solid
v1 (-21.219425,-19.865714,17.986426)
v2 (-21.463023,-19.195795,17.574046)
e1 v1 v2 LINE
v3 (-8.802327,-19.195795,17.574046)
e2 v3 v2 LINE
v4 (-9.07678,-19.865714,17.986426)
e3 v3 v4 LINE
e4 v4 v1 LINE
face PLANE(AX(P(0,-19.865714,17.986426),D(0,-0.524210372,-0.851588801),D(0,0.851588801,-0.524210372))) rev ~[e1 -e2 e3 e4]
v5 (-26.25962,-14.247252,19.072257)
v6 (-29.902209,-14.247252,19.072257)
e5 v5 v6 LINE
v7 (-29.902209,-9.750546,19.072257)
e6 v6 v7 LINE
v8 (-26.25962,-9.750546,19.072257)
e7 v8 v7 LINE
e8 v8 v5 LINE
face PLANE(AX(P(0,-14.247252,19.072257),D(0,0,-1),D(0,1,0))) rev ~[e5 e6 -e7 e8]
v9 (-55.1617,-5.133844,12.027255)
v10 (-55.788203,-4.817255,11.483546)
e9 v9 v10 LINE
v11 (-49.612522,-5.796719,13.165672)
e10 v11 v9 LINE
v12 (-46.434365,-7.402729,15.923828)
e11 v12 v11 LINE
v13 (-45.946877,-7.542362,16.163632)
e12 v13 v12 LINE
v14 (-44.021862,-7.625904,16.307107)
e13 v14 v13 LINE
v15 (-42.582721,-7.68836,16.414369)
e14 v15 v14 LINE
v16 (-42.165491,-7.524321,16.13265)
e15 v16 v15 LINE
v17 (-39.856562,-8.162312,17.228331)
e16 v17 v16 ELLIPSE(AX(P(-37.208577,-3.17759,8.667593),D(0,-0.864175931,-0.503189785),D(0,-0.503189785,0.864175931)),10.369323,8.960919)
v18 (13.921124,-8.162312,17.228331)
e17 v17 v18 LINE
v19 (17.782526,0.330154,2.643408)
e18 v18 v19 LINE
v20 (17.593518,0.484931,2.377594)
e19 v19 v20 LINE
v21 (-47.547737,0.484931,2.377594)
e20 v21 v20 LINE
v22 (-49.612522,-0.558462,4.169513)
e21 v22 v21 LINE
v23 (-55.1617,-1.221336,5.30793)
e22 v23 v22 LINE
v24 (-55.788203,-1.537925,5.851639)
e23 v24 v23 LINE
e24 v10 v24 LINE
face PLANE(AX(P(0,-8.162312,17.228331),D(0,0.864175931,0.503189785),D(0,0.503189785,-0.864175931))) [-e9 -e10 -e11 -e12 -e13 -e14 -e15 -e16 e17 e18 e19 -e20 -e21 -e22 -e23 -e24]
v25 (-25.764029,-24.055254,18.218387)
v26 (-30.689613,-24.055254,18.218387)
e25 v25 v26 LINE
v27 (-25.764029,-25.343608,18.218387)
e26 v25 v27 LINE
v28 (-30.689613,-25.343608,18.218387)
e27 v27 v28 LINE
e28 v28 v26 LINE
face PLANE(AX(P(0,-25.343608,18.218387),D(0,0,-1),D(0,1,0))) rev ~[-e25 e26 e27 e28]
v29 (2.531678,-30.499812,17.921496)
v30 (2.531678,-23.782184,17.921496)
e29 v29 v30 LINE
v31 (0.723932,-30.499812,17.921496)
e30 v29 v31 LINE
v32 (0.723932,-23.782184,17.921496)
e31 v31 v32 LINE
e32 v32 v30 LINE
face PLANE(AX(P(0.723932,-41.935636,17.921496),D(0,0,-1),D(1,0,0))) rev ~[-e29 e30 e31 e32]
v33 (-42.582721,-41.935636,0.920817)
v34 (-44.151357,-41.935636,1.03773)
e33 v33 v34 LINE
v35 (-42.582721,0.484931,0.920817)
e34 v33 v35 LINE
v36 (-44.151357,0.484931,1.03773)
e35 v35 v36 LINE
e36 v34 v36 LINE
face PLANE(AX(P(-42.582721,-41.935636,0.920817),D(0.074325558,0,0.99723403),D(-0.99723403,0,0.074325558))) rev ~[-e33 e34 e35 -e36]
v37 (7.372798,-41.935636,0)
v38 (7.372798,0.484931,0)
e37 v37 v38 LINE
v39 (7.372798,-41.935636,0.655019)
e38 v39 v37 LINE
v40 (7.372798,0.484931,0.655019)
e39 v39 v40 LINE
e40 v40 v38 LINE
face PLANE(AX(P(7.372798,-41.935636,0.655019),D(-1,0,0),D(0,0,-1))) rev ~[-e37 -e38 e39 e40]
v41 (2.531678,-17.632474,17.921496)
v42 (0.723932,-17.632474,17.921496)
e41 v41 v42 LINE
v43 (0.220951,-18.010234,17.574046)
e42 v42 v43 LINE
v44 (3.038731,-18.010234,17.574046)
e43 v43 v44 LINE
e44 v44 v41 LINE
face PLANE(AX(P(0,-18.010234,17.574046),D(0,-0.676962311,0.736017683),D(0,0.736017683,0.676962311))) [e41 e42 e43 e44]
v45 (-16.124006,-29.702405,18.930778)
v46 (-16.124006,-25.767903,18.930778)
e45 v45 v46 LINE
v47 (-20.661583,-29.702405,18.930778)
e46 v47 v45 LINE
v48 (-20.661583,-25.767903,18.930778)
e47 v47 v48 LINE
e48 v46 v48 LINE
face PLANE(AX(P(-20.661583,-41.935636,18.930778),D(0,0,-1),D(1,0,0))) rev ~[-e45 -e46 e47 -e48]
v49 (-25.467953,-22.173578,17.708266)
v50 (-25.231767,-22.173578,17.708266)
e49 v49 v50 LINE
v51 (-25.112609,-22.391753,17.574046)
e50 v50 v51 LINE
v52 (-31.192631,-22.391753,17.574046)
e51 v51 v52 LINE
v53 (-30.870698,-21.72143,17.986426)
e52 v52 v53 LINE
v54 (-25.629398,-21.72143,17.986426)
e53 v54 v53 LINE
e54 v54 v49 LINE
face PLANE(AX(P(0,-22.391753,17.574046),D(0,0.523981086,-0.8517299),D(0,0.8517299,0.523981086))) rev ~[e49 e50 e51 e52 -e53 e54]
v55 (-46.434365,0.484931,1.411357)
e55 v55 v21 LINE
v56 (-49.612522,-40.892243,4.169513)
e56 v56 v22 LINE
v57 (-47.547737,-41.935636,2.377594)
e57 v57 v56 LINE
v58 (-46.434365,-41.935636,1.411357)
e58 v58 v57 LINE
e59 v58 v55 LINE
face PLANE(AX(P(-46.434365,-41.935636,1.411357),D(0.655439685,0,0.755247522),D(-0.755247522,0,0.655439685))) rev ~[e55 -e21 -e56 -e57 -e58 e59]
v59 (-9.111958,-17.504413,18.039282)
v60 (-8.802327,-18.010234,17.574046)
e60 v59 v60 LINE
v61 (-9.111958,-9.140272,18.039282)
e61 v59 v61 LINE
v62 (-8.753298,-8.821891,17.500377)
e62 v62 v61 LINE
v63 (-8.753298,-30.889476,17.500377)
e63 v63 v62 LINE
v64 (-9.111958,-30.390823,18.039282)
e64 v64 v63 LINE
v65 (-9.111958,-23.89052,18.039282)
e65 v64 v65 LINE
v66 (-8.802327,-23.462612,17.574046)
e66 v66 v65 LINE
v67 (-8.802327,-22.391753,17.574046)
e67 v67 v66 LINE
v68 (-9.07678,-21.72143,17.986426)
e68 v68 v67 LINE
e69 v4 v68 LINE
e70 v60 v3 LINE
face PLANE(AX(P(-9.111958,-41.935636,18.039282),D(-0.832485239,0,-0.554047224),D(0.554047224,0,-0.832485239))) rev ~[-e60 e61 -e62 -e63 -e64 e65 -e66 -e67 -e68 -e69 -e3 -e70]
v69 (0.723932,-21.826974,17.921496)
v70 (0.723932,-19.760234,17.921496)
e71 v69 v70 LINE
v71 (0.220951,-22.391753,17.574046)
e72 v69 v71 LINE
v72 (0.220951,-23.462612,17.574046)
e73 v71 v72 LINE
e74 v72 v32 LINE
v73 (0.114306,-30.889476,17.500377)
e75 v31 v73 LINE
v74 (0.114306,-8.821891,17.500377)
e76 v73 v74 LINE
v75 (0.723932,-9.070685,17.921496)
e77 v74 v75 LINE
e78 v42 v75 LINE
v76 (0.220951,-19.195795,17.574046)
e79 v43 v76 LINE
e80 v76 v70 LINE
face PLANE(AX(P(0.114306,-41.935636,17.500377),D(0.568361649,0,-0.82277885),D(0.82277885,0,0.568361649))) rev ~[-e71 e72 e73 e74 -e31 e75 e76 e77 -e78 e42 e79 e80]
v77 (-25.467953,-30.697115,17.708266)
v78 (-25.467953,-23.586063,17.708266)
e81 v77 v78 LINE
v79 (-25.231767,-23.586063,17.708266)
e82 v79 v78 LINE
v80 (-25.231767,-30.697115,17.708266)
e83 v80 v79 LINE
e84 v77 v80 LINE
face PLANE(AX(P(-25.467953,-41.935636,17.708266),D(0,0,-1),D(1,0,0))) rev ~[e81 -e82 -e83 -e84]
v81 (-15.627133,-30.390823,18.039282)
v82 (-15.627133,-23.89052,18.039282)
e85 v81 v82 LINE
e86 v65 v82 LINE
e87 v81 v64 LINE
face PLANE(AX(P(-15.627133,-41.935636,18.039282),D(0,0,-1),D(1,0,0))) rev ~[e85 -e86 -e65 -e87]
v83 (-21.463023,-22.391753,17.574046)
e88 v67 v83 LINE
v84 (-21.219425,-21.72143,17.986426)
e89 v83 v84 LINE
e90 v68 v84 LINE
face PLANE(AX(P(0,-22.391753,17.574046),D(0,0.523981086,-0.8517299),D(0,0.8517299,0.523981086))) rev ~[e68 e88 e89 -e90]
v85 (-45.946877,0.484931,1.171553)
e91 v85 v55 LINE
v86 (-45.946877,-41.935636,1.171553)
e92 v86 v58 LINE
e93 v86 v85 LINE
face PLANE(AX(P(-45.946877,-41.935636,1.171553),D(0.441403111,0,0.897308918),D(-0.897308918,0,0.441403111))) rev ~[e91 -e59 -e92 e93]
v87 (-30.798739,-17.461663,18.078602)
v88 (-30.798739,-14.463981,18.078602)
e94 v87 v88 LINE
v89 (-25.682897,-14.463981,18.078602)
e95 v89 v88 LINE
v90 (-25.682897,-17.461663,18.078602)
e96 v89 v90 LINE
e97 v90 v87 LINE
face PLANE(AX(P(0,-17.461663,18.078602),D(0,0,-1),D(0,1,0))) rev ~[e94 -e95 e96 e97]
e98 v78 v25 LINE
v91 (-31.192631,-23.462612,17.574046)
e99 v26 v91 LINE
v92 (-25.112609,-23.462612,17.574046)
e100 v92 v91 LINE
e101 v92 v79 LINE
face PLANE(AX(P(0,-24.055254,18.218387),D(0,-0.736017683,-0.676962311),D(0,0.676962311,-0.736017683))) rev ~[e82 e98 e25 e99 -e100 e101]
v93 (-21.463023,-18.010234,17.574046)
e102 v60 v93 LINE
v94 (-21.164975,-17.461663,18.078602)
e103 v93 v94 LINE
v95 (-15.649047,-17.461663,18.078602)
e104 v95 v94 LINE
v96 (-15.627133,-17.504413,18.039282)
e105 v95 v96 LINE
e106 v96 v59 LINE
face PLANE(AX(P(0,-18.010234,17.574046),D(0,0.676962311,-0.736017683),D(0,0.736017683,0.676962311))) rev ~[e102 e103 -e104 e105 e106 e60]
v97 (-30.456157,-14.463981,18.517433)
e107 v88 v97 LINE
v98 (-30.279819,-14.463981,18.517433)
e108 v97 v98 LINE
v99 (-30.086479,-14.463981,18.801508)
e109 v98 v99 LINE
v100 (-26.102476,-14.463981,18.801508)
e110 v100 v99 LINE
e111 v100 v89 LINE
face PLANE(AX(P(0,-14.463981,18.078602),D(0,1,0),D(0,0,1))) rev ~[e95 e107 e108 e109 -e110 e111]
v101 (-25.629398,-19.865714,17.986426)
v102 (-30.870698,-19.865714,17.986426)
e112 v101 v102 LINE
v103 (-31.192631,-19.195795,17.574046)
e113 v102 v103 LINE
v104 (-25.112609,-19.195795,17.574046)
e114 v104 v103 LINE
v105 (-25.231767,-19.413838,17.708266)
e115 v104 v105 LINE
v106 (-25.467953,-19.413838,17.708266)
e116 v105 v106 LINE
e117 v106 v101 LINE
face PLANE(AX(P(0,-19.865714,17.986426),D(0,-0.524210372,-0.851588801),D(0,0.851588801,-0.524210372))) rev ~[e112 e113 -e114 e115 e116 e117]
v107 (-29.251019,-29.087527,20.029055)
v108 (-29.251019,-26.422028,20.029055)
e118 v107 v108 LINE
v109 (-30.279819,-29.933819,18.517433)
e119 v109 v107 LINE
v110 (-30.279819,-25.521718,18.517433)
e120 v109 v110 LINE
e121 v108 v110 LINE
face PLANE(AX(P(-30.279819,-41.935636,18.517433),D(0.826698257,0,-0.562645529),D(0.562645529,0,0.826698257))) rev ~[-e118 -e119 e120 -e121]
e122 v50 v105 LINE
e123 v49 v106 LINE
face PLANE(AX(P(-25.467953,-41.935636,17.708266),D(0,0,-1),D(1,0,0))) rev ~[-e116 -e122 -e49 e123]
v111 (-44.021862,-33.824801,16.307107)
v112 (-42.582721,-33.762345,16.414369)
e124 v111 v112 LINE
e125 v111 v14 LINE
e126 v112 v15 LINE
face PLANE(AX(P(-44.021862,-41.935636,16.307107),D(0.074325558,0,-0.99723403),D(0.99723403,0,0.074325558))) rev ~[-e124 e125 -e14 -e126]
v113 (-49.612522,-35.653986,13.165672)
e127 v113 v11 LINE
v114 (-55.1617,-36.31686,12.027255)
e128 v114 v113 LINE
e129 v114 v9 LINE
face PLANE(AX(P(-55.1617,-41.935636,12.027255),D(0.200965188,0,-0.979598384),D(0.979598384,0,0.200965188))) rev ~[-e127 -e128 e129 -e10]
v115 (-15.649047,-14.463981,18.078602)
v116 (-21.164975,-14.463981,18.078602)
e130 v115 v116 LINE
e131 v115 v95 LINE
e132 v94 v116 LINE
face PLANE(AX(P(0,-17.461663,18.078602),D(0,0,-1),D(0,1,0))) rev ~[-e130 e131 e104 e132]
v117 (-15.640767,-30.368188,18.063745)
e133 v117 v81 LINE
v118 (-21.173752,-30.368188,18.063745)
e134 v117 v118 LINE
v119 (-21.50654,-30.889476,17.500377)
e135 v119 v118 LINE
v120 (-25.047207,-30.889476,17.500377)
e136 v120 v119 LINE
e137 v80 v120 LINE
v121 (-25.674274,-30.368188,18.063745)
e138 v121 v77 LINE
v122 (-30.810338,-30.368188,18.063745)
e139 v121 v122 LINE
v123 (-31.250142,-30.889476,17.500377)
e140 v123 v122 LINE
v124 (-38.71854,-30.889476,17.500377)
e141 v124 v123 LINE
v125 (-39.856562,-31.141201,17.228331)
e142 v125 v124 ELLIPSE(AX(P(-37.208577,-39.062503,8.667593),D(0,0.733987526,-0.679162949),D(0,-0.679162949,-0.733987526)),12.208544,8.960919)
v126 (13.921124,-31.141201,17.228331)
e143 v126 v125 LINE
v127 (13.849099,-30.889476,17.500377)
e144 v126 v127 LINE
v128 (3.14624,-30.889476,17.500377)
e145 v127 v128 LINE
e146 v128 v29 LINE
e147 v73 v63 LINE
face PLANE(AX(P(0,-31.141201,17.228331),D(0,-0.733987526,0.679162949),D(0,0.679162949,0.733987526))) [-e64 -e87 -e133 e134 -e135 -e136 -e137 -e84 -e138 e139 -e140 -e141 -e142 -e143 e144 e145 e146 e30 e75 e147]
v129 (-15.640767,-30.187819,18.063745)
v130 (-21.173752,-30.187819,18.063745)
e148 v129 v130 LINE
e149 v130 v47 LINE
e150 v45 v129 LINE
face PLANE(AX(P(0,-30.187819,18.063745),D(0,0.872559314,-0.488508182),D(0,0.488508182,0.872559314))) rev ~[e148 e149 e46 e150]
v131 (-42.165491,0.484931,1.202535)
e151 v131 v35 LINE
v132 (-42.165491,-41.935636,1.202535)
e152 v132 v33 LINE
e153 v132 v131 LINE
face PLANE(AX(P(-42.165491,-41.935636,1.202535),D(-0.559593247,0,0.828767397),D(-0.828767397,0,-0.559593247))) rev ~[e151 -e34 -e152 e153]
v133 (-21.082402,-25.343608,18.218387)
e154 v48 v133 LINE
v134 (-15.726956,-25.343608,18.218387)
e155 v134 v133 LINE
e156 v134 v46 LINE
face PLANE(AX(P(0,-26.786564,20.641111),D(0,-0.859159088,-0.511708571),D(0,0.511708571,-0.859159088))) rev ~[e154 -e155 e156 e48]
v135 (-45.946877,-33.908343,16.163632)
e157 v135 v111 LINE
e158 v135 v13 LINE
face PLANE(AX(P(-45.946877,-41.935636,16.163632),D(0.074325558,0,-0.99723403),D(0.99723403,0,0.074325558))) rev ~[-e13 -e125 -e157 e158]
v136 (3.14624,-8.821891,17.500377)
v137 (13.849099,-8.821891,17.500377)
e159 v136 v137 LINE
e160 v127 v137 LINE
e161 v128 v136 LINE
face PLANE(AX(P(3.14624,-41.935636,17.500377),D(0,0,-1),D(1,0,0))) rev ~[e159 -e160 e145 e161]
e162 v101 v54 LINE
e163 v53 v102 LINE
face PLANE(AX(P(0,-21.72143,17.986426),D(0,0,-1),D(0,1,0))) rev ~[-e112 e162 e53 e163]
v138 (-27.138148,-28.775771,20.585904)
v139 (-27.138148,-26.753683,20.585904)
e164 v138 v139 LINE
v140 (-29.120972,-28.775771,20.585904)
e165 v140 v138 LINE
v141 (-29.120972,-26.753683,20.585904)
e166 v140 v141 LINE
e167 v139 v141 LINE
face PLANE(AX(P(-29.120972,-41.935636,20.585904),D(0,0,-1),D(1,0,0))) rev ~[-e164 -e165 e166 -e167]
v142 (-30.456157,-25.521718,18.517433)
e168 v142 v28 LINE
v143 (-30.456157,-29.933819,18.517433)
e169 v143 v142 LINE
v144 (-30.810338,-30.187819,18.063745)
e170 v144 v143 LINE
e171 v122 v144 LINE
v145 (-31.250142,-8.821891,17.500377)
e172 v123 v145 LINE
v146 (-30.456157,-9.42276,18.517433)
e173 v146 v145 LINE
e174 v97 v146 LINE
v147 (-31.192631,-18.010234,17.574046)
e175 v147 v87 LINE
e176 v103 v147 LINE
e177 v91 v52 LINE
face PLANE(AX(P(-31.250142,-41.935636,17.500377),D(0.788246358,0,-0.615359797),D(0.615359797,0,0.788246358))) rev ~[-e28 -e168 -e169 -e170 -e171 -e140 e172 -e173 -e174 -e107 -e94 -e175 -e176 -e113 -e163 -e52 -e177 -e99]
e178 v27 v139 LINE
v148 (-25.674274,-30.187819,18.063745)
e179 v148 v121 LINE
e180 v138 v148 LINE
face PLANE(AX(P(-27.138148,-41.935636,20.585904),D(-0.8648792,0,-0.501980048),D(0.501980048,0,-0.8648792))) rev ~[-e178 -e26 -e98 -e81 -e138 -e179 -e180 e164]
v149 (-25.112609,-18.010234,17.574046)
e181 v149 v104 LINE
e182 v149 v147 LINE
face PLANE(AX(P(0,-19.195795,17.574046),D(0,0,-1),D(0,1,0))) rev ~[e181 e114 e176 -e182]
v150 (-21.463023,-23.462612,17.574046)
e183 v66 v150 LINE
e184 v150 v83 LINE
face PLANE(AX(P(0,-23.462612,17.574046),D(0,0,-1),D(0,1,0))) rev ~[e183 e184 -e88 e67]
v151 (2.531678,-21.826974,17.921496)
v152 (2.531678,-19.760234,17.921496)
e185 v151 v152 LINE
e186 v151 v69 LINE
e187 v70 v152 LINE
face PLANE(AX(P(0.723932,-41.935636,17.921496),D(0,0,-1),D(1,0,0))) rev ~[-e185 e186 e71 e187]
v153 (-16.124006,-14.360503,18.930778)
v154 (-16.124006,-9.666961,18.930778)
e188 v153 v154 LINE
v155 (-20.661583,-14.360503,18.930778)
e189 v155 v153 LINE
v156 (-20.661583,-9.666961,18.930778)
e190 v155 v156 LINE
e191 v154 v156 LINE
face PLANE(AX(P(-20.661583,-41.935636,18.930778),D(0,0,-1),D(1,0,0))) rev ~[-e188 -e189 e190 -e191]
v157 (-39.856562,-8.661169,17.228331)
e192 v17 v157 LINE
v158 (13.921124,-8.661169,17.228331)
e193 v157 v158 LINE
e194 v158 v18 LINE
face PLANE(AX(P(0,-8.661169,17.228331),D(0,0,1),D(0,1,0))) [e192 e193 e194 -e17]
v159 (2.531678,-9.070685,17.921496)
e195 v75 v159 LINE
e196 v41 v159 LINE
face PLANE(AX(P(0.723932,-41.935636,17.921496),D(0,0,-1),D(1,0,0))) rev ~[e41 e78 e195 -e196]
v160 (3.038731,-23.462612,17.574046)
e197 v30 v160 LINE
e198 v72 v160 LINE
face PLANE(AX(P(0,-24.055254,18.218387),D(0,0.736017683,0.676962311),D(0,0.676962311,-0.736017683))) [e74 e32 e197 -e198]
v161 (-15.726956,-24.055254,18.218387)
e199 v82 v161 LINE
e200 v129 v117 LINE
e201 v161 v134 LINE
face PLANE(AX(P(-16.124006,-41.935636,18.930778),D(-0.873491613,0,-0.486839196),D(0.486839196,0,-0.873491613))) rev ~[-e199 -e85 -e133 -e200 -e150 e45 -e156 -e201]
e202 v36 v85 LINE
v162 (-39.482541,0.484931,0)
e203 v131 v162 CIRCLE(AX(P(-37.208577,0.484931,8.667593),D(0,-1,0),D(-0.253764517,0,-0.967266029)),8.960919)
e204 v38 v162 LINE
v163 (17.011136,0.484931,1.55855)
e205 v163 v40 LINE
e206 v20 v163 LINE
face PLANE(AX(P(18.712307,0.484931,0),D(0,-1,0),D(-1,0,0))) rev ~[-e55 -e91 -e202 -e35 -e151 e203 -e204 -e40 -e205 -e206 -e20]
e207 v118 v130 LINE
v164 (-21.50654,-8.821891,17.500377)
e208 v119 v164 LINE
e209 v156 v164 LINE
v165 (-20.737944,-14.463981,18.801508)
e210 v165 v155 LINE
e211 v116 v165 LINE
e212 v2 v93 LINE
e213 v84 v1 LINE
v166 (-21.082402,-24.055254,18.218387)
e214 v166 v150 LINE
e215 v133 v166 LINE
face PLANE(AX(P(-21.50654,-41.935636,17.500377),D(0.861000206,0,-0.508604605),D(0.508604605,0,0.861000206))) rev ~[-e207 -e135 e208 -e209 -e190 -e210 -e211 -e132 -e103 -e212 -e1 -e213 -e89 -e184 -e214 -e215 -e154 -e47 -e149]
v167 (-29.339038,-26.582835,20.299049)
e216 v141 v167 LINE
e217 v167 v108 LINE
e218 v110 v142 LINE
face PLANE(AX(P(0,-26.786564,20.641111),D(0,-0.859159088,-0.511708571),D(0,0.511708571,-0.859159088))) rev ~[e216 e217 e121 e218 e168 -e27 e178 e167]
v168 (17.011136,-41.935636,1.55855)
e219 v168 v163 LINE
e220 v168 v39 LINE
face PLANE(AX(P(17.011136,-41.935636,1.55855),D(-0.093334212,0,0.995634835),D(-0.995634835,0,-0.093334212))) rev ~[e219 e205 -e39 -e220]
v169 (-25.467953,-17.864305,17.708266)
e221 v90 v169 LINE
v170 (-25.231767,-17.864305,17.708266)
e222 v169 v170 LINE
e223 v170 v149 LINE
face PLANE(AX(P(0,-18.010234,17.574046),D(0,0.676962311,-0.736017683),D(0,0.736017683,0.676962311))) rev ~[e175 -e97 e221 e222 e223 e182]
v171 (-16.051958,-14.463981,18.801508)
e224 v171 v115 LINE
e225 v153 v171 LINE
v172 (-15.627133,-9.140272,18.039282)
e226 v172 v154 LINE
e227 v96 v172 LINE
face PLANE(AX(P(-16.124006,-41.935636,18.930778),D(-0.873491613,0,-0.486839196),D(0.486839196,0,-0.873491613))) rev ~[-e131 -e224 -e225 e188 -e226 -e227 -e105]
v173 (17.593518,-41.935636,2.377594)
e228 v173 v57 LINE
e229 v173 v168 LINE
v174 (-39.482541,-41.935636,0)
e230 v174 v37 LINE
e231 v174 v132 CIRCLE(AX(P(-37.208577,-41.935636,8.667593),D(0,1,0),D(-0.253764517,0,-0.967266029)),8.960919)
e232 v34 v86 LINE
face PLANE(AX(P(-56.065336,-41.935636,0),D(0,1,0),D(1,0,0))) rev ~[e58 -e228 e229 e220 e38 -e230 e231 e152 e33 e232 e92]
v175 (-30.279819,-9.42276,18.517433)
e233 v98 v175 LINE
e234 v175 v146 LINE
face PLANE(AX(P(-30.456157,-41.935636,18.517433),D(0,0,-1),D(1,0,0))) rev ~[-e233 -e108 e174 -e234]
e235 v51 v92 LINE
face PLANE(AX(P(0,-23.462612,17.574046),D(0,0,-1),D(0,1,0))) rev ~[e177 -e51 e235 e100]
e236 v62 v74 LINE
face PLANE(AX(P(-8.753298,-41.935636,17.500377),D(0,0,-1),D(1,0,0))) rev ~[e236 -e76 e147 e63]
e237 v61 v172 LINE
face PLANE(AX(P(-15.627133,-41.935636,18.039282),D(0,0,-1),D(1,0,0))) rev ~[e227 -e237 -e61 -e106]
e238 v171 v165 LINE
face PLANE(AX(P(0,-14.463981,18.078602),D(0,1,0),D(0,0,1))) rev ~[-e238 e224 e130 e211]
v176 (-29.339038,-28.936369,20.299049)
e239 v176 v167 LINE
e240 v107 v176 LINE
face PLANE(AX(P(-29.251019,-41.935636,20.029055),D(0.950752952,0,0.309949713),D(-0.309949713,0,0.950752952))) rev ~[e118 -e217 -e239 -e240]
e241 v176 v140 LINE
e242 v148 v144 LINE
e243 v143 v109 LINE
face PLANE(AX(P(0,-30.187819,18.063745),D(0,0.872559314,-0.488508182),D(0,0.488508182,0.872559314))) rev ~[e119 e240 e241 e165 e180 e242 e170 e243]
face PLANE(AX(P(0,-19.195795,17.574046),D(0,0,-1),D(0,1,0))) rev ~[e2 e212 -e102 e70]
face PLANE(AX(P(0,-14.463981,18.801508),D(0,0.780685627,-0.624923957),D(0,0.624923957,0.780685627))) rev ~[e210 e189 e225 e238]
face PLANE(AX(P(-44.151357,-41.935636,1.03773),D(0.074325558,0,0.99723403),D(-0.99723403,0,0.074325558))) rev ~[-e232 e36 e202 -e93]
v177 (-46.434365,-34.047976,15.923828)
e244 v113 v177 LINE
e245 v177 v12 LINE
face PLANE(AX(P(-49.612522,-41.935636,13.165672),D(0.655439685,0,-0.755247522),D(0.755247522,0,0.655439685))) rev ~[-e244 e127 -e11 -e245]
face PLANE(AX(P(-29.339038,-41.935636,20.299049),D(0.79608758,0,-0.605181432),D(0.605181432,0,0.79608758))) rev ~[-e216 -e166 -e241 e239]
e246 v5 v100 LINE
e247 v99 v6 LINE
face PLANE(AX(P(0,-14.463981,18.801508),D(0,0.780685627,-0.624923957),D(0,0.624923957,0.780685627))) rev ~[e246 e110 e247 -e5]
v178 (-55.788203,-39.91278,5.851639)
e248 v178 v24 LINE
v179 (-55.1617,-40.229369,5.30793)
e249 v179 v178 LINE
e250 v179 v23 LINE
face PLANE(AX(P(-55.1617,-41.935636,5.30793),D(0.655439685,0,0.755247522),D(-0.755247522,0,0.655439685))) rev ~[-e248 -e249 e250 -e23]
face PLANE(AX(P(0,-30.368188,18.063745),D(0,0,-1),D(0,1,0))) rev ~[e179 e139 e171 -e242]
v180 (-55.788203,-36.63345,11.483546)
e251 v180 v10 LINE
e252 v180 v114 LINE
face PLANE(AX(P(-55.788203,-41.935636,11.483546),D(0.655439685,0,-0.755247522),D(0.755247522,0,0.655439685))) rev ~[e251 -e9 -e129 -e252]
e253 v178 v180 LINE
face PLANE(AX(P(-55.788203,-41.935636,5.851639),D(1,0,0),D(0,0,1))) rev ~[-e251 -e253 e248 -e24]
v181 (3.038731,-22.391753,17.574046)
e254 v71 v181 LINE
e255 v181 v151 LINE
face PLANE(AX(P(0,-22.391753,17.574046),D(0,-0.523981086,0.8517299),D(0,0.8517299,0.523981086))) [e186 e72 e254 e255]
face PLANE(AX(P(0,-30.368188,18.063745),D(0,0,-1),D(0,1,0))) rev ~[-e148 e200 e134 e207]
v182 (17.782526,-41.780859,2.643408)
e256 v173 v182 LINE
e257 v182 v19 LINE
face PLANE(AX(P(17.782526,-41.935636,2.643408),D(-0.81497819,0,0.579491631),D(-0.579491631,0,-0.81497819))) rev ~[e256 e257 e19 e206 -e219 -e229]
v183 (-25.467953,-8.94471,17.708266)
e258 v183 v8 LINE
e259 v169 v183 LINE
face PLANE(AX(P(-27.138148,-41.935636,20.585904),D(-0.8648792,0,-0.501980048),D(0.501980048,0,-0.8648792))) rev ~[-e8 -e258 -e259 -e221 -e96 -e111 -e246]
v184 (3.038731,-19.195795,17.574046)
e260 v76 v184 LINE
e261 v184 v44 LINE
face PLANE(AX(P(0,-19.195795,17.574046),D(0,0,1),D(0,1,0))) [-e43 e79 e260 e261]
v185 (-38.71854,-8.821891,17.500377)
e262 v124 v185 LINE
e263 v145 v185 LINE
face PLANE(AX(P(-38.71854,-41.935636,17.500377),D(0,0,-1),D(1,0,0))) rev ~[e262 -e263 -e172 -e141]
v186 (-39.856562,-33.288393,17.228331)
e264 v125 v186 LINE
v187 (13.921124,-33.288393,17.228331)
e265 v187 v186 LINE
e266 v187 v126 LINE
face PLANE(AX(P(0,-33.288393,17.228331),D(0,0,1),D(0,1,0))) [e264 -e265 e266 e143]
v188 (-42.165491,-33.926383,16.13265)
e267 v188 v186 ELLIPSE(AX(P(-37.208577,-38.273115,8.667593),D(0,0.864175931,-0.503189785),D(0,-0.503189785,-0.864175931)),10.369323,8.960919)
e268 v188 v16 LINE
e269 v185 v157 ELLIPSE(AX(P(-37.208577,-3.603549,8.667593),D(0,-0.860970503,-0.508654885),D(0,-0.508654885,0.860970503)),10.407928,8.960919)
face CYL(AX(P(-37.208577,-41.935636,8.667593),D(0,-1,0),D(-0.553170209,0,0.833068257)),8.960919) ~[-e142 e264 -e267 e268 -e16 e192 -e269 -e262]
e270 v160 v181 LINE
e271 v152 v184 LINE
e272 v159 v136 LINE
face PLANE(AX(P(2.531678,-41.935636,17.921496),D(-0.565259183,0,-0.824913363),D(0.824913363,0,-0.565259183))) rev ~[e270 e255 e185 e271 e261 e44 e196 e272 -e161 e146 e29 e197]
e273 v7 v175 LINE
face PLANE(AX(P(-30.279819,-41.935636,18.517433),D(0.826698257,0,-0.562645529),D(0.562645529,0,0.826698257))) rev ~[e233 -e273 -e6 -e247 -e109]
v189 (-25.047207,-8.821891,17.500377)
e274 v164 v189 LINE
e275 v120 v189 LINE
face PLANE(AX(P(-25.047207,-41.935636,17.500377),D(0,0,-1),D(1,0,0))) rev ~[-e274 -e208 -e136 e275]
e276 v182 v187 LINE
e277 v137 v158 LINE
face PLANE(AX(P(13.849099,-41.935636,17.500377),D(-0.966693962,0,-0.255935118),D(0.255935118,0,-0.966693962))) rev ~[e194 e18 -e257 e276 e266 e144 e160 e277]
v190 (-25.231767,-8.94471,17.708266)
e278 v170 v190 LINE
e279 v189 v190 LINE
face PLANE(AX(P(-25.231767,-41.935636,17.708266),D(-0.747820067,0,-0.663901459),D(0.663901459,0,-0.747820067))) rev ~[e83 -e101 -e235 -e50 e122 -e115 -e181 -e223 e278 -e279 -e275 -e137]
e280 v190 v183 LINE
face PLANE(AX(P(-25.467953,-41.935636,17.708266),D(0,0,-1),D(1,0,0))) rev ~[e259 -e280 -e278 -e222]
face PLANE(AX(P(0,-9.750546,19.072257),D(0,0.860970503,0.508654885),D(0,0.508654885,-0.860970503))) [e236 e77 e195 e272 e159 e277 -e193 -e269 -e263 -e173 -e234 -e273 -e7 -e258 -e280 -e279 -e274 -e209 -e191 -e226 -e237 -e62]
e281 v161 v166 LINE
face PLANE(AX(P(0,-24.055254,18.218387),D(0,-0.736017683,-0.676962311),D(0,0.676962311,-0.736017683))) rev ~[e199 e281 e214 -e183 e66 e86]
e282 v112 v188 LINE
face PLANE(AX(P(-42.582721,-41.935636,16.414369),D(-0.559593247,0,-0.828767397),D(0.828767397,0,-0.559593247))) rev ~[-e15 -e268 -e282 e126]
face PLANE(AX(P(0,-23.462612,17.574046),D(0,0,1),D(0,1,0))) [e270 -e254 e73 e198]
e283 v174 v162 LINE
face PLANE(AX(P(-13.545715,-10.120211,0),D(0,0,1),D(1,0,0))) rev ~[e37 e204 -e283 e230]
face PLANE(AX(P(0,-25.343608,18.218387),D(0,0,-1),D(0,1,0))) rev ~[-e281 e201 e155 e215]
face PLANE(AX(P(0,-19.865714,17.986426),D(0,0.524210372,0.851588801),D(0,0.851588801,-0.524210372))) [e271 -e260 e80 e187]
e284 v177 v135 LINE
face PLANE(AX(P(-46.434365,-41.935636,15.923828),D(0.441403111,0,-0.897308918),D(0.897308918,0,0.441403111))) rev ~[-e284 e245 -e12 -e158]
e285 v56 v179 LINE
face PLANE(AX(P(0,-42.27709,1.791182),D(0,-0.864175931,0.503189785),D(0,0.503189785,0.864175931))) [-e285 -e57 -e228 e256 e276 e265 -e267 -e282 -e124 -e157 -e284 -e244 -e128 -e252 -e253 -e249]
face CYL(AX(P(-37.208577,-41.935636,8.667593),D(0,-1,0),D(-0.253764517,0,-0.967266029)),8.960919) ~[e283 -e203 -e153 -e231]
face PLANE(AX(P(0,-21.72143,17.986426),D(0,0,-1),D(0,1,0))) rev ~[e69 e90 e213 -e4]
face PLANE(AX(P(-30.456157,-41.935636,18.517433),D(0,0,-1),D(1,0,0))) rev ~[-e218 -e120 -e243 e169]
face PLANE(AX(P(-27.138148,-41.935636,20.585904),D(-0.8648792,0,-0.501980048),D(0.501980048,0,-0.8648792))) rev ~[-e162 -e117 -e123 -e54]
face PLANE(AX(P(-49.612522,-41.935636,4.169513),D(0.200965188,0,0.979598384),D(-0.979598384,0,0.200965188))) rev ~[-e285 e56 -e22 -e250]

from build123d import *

# Parameters (mm, degrees)
F0_W     = 64.5160431693
F0_H     = 21.2102837178
F1_DEPTH = 25.4
F3_DEPTH = 51.816
F5_DEPTH = 78.486
F6_DEPTH = 43.18


with BuildPart() as f1:
    # F0 (on Top) → F1 (new body)
    with BuildSketch(Plane.XY):
        with Locations((-13.5457146427, -10.1202105203)):
            Rectangle(F0_W, F0_H)
        with Locations((-13.5457146427, -31.3304942381)):
            Rectangle(F0_W, F0_H)
        Polygon((-56.0653362274, -41.935636097), (-45.8037362274, -41.935636097), (-45.8037362274, -20.7253523792), (-45.8037362274, 0.4849313386), (-56.0653362274, 0.4849313386), (-56.0653362274, -20.7253523792), align=None)
    extrude(amount=F1_DEPTH)

    # F2 (on face) → F3 (cut)
    with BuildSketch(Plane.XZ.offset(41.935636097)):
        with BuildLine():
            ThreePointArc((-44.145979319, 1.0321285638), (-44.1486688564, 1.034928695), (-44.1513573992, 1.0377297813))
            Line((-44.1513573992, 1.0377297813), (-45.9468774498, 1.1715529611))
            Line((-45.9468774498, 1.1715529611), (-44.145979319, 1.0321285638))
        make_face()
        with BuildLine():
            Line((-44.021862033, 16.3071069646), (-42.5827212101, 16.4143685911))
            ThreePointArc((-42.5827212101, 16.4143685911), (-42.5963025327, 16.4205333574), (-42.6111564435, 16.4218816897))
            Line((-42.6111564435, 16.4218816897), (-44.0158800553, 16.3131288738))
            ThreePointArc((-44.0158800553, 16.3131288738), (-44.0188716286, 16.3101184998), (-44.021862033, 16.3071069646))
        make_face()
        with BuildLine():
            Line((-45.9468774498, 16.1636322737), (-44.021862033, 16.3071069646))
            ThreePointArc((-44.021862033, 16.3071069646), (-44.0188716286, 16.3101184998), (-44.0158800553, 16.3131288738))
            Line((-44.0158800553, 16.3131288738), (-45.9468774498, 16.1636322737))
        make_face()
        with BuildLine():
            Line((7.372798217, 0), (-39.4825406605, 0))
            ThreePointArc((-39.4825406605, 0), (-38.9420590995, -0.1240575085), (-38.3949389733, -0.2144463942))
            Line((-38.3949389733, -0.2144463942), (7.372798217, -0.2144463942))
            Line((7.372798217, -0.2144463942), (7.372798217, 0))
        make_face()
        with BuildLine():
            ThreePointArc((-42.1654908366, 16.1326498601), (-40.5135421796, 16.9967749546), (-38.7185404025, 17.5003771437))
            Line((-38.7185404025, 17.5003771437), (-31.250141561, 17.5003771437))
            Line((-31.250141561, 17.5003771437), (-30.4561574012, 18.5174327344))
            Line((-30.4561574012, 18.5174327344), (-30.2798189223, 18.5174327344))
            Line((-30.2798189223, 18.5174327344), (-29.2510185391, 20.0290549546))
            Line((-29.2510185391, 20.0290549546), (-29.3390378356, 20.2990490943))
            Line((-29.3390378356, 20.2990490943), (-29.12097238, 20.5859038979))
            Line((-29.12097238, 20.5859038979), (-27.1381475031, 20.5859038979))
            Line((-27.1381475031, 20.5859038979), (-25.4679527134, 17.7082661539))
            Line((-25.4679527134, 17.7082661539), (-25.2317674458, 17.7082661539))
            Line((-25.2317674458, 17.7082661539), (-25.0472072512, 17.5003771437))
            Line((-25.0472072512, 17.5003771437), (-21.5065404773, 17.5003771437))
            Line((-21.5065404773, 17.5003771437), (-20.6615831703, 18.9307779074))
            Line((-20.6615831703, 18.9307779074), (-16.1240063608, 18.9307779074))
            Line((-16.1240063608, 18.9307779074), (-15.6271327287, 18.0392824113))
            Line((-15.6271327287, 18.0392824113), (-9.1119576246, 18.0392824113))
            Line((-9.1119576246, 18.0392824113), (-8.7532978505, 17.5003771437))
            Line((-8.7532978505, 17.5003771437), (0.1143061163, 17.5003771437))
            Line((0.1143061163, 17.5003771437), (0.7239317638, 17.9214961827))
            Line((0.7239317638, 17.9214961827), (2.5316779502, 17.9214961827))
            Line((2.5316779502, 17.9214961827), (3.1462397892, 17.5003771437))
            Line((3.1462397892, 17.5003771437), (13.8490989856, 17.5003771437))
            Line((13.8490989856, 17.5003771437), (17.7825259097, 2.6434083702))
            Line((17.7825259097, 2.6434083702), (17.0111356355, 1.5585501678))
            Line((17.0111356355, 1.5585501678), (7.372798217, 0.6550194812))
            Line((7.372798217, 0.6550194812), (7.372798217, 0))
            Line((7.372798217, 0), (18.7123069419, 0))
            Line((18.7123069419, 0), (18.7123069419, 25.4))
            Line((18.7123069419, 25.4), (-56.0653362274, 25.4))
            Line((-56.0653362274, 25.4), (-56.0653362274, 0))
            Line((-56.0653362274, 0), (-39.4825406605, 0))
            ThreePointArc((-39.4825406605, 0), (-40.8736718435, 0.4904810681), (-42.1654908366, 1.2025353747))
            Line((-42.1654908366, 1.2025353747), (-42.5827212101, 0.9208166436))
            Line((-42.5827212101, 0.9208166436), (-44.1513573992, 1.0377297813))
            ThreePointArc((-44.1513573992, 1.0377297813), (-44.1486688564, 1.034928695), (-44.145979319, 1.0321285638))
            Line((-44.145979319, 1.0321285638), (-45.9468774498, 1.1715529611))
            Line((-45.9468774498, 1.1715529611), (-46.4343652129, 1.4113573482))
            Line((-46.4343652129, 1.4113573482), (-49.6125221252, 4.1695129251))
            Line((-49.6125221252, 4.1695129251), (-55.1616996527, 5.3079299753))
            Line((-55.1616996527, 5.3079299753), (-55.7882027962, 5.8516391712))
            Line((-55.7882027962, 5.8516391712), (-55.7882027962, 8.6675926174))
            Line((-55.7882027962, 8.6675926174), (-55.7882027962, 11.4835460635))
            Line((-55.7882027962, 11.4835460635), (-55.1616996527, 12.0272552595))
            Line((-55.1616996527, 12.0272552595), (-49.6125221252, 13.1656723097))
            Line((-49.6125221252, 13.1656723097), (-46.4343652129, 15.9238278866))
            Line((-46.4343652129, 15.9238278866), (-45.9468774498, 16.1636322737))
            Line((-45.9468774498, 16.1636322737), (-44.0158800553, 16.3131288738))
            Line((-44.0158800553, 16.3131288738), (-42.6111564435, 16.4218816897))
            ThreePointArc((-42.6111564435, 16.4218816897), (-42.5963025327, 16.4205333574), (-42.5827212101, 16.4143685911))
            Line((-42.5827212101, 16.4143685911), (-42.1654908366, 16.1326498601))
        make_face()
    extrude(amount=-F3_DEPTH, mode=Mode.SUBTRACT)

    # F4 (on Right) → F5 (cut)
    with BuildSketch(Plane.YZ):
        Polygon((-9.7505459562, 19.0722569823), (-8.6611686274, 17.2283314168), (-8.1623115887, 17.2283314168), (0.8263854931, 1.7911824398), (1.259337645, 21.2465394288), (-42.2770902514, 21.2465394288), (-42.2770902514, 1.7911824398), (-33.2883931696, 17.2283314168), (-31.1412010342, 17.2283314168), (-30.3681883961, 18.0637445301), (-30.1878191531, 18.0637445301), (-28.7448633462, 20.6411108375), (-26.786563918, 20.6411108375), (-25.3436081111, 18.2183869183), (-24.0552537143, 18.2183869183), (-23.4626121819, 17.5740458071), (-22.3917532712, 17.5740458071), (-21.7214301229, 17.9864261299), (-19.8657140136, 17.9864261299), (-19.1957950592, 17.5740458071), (-18.0102344602, 17.5740458071), (-17.4616630302, 18.078601868), (-14.4639806944, 18.078601868), (-14.4639806944, 18.8015084714), (-14.2472516745, 19.0722569823), align=None)
    extrude(amount=-F5_DEPTH, mode=Mode.SUBTRACT)

    # F4 (on Right) → F6 (cut)
    with BuildSketch(Plane.YZ):
        Polygon((-9.7505459562, 19.0722569823), (-8.6611686274, 17.2283314168), (-8.1623115887, 17.2283314168), (0.8263854931, 1.7911824398), (1.259337645, 21.2465394288), (-42.2770902514, 21.2465394288), (-42.2770902514, 1.7911824398), (-33.2883931696, 17.2283314168), (-31.1412010342, 17.2283314168), (-30.3681883961, 18.0637445301), (-30.1878191531, 18.0637445301), (-28.7448633462, 20.6411108375), (-26.786563918, 20.6411108375), (-25.3436081111, 18.2183869183), (-24.0552537143, 18.2183869183), (-23.4626121819, 17.5740458071), (-22.3917532712, 17.5740458071), (-21.7214301229, 17.9864261299), (-19.8657140136, 17.9864261299), (-19.1957950592, 17.5740458071), (-18.0102344602, 17.5740458071), (-17.4616630302, 18.078601868), (-14.4639806944, 18.078601868), (-14.4639806944, 18.8015084714), (-14.2472516745, 19.0722569823), align=None)
    extrude(amount=F6_DEPTH, mode=Mode.SUBTRACT)


solid = f1.part
